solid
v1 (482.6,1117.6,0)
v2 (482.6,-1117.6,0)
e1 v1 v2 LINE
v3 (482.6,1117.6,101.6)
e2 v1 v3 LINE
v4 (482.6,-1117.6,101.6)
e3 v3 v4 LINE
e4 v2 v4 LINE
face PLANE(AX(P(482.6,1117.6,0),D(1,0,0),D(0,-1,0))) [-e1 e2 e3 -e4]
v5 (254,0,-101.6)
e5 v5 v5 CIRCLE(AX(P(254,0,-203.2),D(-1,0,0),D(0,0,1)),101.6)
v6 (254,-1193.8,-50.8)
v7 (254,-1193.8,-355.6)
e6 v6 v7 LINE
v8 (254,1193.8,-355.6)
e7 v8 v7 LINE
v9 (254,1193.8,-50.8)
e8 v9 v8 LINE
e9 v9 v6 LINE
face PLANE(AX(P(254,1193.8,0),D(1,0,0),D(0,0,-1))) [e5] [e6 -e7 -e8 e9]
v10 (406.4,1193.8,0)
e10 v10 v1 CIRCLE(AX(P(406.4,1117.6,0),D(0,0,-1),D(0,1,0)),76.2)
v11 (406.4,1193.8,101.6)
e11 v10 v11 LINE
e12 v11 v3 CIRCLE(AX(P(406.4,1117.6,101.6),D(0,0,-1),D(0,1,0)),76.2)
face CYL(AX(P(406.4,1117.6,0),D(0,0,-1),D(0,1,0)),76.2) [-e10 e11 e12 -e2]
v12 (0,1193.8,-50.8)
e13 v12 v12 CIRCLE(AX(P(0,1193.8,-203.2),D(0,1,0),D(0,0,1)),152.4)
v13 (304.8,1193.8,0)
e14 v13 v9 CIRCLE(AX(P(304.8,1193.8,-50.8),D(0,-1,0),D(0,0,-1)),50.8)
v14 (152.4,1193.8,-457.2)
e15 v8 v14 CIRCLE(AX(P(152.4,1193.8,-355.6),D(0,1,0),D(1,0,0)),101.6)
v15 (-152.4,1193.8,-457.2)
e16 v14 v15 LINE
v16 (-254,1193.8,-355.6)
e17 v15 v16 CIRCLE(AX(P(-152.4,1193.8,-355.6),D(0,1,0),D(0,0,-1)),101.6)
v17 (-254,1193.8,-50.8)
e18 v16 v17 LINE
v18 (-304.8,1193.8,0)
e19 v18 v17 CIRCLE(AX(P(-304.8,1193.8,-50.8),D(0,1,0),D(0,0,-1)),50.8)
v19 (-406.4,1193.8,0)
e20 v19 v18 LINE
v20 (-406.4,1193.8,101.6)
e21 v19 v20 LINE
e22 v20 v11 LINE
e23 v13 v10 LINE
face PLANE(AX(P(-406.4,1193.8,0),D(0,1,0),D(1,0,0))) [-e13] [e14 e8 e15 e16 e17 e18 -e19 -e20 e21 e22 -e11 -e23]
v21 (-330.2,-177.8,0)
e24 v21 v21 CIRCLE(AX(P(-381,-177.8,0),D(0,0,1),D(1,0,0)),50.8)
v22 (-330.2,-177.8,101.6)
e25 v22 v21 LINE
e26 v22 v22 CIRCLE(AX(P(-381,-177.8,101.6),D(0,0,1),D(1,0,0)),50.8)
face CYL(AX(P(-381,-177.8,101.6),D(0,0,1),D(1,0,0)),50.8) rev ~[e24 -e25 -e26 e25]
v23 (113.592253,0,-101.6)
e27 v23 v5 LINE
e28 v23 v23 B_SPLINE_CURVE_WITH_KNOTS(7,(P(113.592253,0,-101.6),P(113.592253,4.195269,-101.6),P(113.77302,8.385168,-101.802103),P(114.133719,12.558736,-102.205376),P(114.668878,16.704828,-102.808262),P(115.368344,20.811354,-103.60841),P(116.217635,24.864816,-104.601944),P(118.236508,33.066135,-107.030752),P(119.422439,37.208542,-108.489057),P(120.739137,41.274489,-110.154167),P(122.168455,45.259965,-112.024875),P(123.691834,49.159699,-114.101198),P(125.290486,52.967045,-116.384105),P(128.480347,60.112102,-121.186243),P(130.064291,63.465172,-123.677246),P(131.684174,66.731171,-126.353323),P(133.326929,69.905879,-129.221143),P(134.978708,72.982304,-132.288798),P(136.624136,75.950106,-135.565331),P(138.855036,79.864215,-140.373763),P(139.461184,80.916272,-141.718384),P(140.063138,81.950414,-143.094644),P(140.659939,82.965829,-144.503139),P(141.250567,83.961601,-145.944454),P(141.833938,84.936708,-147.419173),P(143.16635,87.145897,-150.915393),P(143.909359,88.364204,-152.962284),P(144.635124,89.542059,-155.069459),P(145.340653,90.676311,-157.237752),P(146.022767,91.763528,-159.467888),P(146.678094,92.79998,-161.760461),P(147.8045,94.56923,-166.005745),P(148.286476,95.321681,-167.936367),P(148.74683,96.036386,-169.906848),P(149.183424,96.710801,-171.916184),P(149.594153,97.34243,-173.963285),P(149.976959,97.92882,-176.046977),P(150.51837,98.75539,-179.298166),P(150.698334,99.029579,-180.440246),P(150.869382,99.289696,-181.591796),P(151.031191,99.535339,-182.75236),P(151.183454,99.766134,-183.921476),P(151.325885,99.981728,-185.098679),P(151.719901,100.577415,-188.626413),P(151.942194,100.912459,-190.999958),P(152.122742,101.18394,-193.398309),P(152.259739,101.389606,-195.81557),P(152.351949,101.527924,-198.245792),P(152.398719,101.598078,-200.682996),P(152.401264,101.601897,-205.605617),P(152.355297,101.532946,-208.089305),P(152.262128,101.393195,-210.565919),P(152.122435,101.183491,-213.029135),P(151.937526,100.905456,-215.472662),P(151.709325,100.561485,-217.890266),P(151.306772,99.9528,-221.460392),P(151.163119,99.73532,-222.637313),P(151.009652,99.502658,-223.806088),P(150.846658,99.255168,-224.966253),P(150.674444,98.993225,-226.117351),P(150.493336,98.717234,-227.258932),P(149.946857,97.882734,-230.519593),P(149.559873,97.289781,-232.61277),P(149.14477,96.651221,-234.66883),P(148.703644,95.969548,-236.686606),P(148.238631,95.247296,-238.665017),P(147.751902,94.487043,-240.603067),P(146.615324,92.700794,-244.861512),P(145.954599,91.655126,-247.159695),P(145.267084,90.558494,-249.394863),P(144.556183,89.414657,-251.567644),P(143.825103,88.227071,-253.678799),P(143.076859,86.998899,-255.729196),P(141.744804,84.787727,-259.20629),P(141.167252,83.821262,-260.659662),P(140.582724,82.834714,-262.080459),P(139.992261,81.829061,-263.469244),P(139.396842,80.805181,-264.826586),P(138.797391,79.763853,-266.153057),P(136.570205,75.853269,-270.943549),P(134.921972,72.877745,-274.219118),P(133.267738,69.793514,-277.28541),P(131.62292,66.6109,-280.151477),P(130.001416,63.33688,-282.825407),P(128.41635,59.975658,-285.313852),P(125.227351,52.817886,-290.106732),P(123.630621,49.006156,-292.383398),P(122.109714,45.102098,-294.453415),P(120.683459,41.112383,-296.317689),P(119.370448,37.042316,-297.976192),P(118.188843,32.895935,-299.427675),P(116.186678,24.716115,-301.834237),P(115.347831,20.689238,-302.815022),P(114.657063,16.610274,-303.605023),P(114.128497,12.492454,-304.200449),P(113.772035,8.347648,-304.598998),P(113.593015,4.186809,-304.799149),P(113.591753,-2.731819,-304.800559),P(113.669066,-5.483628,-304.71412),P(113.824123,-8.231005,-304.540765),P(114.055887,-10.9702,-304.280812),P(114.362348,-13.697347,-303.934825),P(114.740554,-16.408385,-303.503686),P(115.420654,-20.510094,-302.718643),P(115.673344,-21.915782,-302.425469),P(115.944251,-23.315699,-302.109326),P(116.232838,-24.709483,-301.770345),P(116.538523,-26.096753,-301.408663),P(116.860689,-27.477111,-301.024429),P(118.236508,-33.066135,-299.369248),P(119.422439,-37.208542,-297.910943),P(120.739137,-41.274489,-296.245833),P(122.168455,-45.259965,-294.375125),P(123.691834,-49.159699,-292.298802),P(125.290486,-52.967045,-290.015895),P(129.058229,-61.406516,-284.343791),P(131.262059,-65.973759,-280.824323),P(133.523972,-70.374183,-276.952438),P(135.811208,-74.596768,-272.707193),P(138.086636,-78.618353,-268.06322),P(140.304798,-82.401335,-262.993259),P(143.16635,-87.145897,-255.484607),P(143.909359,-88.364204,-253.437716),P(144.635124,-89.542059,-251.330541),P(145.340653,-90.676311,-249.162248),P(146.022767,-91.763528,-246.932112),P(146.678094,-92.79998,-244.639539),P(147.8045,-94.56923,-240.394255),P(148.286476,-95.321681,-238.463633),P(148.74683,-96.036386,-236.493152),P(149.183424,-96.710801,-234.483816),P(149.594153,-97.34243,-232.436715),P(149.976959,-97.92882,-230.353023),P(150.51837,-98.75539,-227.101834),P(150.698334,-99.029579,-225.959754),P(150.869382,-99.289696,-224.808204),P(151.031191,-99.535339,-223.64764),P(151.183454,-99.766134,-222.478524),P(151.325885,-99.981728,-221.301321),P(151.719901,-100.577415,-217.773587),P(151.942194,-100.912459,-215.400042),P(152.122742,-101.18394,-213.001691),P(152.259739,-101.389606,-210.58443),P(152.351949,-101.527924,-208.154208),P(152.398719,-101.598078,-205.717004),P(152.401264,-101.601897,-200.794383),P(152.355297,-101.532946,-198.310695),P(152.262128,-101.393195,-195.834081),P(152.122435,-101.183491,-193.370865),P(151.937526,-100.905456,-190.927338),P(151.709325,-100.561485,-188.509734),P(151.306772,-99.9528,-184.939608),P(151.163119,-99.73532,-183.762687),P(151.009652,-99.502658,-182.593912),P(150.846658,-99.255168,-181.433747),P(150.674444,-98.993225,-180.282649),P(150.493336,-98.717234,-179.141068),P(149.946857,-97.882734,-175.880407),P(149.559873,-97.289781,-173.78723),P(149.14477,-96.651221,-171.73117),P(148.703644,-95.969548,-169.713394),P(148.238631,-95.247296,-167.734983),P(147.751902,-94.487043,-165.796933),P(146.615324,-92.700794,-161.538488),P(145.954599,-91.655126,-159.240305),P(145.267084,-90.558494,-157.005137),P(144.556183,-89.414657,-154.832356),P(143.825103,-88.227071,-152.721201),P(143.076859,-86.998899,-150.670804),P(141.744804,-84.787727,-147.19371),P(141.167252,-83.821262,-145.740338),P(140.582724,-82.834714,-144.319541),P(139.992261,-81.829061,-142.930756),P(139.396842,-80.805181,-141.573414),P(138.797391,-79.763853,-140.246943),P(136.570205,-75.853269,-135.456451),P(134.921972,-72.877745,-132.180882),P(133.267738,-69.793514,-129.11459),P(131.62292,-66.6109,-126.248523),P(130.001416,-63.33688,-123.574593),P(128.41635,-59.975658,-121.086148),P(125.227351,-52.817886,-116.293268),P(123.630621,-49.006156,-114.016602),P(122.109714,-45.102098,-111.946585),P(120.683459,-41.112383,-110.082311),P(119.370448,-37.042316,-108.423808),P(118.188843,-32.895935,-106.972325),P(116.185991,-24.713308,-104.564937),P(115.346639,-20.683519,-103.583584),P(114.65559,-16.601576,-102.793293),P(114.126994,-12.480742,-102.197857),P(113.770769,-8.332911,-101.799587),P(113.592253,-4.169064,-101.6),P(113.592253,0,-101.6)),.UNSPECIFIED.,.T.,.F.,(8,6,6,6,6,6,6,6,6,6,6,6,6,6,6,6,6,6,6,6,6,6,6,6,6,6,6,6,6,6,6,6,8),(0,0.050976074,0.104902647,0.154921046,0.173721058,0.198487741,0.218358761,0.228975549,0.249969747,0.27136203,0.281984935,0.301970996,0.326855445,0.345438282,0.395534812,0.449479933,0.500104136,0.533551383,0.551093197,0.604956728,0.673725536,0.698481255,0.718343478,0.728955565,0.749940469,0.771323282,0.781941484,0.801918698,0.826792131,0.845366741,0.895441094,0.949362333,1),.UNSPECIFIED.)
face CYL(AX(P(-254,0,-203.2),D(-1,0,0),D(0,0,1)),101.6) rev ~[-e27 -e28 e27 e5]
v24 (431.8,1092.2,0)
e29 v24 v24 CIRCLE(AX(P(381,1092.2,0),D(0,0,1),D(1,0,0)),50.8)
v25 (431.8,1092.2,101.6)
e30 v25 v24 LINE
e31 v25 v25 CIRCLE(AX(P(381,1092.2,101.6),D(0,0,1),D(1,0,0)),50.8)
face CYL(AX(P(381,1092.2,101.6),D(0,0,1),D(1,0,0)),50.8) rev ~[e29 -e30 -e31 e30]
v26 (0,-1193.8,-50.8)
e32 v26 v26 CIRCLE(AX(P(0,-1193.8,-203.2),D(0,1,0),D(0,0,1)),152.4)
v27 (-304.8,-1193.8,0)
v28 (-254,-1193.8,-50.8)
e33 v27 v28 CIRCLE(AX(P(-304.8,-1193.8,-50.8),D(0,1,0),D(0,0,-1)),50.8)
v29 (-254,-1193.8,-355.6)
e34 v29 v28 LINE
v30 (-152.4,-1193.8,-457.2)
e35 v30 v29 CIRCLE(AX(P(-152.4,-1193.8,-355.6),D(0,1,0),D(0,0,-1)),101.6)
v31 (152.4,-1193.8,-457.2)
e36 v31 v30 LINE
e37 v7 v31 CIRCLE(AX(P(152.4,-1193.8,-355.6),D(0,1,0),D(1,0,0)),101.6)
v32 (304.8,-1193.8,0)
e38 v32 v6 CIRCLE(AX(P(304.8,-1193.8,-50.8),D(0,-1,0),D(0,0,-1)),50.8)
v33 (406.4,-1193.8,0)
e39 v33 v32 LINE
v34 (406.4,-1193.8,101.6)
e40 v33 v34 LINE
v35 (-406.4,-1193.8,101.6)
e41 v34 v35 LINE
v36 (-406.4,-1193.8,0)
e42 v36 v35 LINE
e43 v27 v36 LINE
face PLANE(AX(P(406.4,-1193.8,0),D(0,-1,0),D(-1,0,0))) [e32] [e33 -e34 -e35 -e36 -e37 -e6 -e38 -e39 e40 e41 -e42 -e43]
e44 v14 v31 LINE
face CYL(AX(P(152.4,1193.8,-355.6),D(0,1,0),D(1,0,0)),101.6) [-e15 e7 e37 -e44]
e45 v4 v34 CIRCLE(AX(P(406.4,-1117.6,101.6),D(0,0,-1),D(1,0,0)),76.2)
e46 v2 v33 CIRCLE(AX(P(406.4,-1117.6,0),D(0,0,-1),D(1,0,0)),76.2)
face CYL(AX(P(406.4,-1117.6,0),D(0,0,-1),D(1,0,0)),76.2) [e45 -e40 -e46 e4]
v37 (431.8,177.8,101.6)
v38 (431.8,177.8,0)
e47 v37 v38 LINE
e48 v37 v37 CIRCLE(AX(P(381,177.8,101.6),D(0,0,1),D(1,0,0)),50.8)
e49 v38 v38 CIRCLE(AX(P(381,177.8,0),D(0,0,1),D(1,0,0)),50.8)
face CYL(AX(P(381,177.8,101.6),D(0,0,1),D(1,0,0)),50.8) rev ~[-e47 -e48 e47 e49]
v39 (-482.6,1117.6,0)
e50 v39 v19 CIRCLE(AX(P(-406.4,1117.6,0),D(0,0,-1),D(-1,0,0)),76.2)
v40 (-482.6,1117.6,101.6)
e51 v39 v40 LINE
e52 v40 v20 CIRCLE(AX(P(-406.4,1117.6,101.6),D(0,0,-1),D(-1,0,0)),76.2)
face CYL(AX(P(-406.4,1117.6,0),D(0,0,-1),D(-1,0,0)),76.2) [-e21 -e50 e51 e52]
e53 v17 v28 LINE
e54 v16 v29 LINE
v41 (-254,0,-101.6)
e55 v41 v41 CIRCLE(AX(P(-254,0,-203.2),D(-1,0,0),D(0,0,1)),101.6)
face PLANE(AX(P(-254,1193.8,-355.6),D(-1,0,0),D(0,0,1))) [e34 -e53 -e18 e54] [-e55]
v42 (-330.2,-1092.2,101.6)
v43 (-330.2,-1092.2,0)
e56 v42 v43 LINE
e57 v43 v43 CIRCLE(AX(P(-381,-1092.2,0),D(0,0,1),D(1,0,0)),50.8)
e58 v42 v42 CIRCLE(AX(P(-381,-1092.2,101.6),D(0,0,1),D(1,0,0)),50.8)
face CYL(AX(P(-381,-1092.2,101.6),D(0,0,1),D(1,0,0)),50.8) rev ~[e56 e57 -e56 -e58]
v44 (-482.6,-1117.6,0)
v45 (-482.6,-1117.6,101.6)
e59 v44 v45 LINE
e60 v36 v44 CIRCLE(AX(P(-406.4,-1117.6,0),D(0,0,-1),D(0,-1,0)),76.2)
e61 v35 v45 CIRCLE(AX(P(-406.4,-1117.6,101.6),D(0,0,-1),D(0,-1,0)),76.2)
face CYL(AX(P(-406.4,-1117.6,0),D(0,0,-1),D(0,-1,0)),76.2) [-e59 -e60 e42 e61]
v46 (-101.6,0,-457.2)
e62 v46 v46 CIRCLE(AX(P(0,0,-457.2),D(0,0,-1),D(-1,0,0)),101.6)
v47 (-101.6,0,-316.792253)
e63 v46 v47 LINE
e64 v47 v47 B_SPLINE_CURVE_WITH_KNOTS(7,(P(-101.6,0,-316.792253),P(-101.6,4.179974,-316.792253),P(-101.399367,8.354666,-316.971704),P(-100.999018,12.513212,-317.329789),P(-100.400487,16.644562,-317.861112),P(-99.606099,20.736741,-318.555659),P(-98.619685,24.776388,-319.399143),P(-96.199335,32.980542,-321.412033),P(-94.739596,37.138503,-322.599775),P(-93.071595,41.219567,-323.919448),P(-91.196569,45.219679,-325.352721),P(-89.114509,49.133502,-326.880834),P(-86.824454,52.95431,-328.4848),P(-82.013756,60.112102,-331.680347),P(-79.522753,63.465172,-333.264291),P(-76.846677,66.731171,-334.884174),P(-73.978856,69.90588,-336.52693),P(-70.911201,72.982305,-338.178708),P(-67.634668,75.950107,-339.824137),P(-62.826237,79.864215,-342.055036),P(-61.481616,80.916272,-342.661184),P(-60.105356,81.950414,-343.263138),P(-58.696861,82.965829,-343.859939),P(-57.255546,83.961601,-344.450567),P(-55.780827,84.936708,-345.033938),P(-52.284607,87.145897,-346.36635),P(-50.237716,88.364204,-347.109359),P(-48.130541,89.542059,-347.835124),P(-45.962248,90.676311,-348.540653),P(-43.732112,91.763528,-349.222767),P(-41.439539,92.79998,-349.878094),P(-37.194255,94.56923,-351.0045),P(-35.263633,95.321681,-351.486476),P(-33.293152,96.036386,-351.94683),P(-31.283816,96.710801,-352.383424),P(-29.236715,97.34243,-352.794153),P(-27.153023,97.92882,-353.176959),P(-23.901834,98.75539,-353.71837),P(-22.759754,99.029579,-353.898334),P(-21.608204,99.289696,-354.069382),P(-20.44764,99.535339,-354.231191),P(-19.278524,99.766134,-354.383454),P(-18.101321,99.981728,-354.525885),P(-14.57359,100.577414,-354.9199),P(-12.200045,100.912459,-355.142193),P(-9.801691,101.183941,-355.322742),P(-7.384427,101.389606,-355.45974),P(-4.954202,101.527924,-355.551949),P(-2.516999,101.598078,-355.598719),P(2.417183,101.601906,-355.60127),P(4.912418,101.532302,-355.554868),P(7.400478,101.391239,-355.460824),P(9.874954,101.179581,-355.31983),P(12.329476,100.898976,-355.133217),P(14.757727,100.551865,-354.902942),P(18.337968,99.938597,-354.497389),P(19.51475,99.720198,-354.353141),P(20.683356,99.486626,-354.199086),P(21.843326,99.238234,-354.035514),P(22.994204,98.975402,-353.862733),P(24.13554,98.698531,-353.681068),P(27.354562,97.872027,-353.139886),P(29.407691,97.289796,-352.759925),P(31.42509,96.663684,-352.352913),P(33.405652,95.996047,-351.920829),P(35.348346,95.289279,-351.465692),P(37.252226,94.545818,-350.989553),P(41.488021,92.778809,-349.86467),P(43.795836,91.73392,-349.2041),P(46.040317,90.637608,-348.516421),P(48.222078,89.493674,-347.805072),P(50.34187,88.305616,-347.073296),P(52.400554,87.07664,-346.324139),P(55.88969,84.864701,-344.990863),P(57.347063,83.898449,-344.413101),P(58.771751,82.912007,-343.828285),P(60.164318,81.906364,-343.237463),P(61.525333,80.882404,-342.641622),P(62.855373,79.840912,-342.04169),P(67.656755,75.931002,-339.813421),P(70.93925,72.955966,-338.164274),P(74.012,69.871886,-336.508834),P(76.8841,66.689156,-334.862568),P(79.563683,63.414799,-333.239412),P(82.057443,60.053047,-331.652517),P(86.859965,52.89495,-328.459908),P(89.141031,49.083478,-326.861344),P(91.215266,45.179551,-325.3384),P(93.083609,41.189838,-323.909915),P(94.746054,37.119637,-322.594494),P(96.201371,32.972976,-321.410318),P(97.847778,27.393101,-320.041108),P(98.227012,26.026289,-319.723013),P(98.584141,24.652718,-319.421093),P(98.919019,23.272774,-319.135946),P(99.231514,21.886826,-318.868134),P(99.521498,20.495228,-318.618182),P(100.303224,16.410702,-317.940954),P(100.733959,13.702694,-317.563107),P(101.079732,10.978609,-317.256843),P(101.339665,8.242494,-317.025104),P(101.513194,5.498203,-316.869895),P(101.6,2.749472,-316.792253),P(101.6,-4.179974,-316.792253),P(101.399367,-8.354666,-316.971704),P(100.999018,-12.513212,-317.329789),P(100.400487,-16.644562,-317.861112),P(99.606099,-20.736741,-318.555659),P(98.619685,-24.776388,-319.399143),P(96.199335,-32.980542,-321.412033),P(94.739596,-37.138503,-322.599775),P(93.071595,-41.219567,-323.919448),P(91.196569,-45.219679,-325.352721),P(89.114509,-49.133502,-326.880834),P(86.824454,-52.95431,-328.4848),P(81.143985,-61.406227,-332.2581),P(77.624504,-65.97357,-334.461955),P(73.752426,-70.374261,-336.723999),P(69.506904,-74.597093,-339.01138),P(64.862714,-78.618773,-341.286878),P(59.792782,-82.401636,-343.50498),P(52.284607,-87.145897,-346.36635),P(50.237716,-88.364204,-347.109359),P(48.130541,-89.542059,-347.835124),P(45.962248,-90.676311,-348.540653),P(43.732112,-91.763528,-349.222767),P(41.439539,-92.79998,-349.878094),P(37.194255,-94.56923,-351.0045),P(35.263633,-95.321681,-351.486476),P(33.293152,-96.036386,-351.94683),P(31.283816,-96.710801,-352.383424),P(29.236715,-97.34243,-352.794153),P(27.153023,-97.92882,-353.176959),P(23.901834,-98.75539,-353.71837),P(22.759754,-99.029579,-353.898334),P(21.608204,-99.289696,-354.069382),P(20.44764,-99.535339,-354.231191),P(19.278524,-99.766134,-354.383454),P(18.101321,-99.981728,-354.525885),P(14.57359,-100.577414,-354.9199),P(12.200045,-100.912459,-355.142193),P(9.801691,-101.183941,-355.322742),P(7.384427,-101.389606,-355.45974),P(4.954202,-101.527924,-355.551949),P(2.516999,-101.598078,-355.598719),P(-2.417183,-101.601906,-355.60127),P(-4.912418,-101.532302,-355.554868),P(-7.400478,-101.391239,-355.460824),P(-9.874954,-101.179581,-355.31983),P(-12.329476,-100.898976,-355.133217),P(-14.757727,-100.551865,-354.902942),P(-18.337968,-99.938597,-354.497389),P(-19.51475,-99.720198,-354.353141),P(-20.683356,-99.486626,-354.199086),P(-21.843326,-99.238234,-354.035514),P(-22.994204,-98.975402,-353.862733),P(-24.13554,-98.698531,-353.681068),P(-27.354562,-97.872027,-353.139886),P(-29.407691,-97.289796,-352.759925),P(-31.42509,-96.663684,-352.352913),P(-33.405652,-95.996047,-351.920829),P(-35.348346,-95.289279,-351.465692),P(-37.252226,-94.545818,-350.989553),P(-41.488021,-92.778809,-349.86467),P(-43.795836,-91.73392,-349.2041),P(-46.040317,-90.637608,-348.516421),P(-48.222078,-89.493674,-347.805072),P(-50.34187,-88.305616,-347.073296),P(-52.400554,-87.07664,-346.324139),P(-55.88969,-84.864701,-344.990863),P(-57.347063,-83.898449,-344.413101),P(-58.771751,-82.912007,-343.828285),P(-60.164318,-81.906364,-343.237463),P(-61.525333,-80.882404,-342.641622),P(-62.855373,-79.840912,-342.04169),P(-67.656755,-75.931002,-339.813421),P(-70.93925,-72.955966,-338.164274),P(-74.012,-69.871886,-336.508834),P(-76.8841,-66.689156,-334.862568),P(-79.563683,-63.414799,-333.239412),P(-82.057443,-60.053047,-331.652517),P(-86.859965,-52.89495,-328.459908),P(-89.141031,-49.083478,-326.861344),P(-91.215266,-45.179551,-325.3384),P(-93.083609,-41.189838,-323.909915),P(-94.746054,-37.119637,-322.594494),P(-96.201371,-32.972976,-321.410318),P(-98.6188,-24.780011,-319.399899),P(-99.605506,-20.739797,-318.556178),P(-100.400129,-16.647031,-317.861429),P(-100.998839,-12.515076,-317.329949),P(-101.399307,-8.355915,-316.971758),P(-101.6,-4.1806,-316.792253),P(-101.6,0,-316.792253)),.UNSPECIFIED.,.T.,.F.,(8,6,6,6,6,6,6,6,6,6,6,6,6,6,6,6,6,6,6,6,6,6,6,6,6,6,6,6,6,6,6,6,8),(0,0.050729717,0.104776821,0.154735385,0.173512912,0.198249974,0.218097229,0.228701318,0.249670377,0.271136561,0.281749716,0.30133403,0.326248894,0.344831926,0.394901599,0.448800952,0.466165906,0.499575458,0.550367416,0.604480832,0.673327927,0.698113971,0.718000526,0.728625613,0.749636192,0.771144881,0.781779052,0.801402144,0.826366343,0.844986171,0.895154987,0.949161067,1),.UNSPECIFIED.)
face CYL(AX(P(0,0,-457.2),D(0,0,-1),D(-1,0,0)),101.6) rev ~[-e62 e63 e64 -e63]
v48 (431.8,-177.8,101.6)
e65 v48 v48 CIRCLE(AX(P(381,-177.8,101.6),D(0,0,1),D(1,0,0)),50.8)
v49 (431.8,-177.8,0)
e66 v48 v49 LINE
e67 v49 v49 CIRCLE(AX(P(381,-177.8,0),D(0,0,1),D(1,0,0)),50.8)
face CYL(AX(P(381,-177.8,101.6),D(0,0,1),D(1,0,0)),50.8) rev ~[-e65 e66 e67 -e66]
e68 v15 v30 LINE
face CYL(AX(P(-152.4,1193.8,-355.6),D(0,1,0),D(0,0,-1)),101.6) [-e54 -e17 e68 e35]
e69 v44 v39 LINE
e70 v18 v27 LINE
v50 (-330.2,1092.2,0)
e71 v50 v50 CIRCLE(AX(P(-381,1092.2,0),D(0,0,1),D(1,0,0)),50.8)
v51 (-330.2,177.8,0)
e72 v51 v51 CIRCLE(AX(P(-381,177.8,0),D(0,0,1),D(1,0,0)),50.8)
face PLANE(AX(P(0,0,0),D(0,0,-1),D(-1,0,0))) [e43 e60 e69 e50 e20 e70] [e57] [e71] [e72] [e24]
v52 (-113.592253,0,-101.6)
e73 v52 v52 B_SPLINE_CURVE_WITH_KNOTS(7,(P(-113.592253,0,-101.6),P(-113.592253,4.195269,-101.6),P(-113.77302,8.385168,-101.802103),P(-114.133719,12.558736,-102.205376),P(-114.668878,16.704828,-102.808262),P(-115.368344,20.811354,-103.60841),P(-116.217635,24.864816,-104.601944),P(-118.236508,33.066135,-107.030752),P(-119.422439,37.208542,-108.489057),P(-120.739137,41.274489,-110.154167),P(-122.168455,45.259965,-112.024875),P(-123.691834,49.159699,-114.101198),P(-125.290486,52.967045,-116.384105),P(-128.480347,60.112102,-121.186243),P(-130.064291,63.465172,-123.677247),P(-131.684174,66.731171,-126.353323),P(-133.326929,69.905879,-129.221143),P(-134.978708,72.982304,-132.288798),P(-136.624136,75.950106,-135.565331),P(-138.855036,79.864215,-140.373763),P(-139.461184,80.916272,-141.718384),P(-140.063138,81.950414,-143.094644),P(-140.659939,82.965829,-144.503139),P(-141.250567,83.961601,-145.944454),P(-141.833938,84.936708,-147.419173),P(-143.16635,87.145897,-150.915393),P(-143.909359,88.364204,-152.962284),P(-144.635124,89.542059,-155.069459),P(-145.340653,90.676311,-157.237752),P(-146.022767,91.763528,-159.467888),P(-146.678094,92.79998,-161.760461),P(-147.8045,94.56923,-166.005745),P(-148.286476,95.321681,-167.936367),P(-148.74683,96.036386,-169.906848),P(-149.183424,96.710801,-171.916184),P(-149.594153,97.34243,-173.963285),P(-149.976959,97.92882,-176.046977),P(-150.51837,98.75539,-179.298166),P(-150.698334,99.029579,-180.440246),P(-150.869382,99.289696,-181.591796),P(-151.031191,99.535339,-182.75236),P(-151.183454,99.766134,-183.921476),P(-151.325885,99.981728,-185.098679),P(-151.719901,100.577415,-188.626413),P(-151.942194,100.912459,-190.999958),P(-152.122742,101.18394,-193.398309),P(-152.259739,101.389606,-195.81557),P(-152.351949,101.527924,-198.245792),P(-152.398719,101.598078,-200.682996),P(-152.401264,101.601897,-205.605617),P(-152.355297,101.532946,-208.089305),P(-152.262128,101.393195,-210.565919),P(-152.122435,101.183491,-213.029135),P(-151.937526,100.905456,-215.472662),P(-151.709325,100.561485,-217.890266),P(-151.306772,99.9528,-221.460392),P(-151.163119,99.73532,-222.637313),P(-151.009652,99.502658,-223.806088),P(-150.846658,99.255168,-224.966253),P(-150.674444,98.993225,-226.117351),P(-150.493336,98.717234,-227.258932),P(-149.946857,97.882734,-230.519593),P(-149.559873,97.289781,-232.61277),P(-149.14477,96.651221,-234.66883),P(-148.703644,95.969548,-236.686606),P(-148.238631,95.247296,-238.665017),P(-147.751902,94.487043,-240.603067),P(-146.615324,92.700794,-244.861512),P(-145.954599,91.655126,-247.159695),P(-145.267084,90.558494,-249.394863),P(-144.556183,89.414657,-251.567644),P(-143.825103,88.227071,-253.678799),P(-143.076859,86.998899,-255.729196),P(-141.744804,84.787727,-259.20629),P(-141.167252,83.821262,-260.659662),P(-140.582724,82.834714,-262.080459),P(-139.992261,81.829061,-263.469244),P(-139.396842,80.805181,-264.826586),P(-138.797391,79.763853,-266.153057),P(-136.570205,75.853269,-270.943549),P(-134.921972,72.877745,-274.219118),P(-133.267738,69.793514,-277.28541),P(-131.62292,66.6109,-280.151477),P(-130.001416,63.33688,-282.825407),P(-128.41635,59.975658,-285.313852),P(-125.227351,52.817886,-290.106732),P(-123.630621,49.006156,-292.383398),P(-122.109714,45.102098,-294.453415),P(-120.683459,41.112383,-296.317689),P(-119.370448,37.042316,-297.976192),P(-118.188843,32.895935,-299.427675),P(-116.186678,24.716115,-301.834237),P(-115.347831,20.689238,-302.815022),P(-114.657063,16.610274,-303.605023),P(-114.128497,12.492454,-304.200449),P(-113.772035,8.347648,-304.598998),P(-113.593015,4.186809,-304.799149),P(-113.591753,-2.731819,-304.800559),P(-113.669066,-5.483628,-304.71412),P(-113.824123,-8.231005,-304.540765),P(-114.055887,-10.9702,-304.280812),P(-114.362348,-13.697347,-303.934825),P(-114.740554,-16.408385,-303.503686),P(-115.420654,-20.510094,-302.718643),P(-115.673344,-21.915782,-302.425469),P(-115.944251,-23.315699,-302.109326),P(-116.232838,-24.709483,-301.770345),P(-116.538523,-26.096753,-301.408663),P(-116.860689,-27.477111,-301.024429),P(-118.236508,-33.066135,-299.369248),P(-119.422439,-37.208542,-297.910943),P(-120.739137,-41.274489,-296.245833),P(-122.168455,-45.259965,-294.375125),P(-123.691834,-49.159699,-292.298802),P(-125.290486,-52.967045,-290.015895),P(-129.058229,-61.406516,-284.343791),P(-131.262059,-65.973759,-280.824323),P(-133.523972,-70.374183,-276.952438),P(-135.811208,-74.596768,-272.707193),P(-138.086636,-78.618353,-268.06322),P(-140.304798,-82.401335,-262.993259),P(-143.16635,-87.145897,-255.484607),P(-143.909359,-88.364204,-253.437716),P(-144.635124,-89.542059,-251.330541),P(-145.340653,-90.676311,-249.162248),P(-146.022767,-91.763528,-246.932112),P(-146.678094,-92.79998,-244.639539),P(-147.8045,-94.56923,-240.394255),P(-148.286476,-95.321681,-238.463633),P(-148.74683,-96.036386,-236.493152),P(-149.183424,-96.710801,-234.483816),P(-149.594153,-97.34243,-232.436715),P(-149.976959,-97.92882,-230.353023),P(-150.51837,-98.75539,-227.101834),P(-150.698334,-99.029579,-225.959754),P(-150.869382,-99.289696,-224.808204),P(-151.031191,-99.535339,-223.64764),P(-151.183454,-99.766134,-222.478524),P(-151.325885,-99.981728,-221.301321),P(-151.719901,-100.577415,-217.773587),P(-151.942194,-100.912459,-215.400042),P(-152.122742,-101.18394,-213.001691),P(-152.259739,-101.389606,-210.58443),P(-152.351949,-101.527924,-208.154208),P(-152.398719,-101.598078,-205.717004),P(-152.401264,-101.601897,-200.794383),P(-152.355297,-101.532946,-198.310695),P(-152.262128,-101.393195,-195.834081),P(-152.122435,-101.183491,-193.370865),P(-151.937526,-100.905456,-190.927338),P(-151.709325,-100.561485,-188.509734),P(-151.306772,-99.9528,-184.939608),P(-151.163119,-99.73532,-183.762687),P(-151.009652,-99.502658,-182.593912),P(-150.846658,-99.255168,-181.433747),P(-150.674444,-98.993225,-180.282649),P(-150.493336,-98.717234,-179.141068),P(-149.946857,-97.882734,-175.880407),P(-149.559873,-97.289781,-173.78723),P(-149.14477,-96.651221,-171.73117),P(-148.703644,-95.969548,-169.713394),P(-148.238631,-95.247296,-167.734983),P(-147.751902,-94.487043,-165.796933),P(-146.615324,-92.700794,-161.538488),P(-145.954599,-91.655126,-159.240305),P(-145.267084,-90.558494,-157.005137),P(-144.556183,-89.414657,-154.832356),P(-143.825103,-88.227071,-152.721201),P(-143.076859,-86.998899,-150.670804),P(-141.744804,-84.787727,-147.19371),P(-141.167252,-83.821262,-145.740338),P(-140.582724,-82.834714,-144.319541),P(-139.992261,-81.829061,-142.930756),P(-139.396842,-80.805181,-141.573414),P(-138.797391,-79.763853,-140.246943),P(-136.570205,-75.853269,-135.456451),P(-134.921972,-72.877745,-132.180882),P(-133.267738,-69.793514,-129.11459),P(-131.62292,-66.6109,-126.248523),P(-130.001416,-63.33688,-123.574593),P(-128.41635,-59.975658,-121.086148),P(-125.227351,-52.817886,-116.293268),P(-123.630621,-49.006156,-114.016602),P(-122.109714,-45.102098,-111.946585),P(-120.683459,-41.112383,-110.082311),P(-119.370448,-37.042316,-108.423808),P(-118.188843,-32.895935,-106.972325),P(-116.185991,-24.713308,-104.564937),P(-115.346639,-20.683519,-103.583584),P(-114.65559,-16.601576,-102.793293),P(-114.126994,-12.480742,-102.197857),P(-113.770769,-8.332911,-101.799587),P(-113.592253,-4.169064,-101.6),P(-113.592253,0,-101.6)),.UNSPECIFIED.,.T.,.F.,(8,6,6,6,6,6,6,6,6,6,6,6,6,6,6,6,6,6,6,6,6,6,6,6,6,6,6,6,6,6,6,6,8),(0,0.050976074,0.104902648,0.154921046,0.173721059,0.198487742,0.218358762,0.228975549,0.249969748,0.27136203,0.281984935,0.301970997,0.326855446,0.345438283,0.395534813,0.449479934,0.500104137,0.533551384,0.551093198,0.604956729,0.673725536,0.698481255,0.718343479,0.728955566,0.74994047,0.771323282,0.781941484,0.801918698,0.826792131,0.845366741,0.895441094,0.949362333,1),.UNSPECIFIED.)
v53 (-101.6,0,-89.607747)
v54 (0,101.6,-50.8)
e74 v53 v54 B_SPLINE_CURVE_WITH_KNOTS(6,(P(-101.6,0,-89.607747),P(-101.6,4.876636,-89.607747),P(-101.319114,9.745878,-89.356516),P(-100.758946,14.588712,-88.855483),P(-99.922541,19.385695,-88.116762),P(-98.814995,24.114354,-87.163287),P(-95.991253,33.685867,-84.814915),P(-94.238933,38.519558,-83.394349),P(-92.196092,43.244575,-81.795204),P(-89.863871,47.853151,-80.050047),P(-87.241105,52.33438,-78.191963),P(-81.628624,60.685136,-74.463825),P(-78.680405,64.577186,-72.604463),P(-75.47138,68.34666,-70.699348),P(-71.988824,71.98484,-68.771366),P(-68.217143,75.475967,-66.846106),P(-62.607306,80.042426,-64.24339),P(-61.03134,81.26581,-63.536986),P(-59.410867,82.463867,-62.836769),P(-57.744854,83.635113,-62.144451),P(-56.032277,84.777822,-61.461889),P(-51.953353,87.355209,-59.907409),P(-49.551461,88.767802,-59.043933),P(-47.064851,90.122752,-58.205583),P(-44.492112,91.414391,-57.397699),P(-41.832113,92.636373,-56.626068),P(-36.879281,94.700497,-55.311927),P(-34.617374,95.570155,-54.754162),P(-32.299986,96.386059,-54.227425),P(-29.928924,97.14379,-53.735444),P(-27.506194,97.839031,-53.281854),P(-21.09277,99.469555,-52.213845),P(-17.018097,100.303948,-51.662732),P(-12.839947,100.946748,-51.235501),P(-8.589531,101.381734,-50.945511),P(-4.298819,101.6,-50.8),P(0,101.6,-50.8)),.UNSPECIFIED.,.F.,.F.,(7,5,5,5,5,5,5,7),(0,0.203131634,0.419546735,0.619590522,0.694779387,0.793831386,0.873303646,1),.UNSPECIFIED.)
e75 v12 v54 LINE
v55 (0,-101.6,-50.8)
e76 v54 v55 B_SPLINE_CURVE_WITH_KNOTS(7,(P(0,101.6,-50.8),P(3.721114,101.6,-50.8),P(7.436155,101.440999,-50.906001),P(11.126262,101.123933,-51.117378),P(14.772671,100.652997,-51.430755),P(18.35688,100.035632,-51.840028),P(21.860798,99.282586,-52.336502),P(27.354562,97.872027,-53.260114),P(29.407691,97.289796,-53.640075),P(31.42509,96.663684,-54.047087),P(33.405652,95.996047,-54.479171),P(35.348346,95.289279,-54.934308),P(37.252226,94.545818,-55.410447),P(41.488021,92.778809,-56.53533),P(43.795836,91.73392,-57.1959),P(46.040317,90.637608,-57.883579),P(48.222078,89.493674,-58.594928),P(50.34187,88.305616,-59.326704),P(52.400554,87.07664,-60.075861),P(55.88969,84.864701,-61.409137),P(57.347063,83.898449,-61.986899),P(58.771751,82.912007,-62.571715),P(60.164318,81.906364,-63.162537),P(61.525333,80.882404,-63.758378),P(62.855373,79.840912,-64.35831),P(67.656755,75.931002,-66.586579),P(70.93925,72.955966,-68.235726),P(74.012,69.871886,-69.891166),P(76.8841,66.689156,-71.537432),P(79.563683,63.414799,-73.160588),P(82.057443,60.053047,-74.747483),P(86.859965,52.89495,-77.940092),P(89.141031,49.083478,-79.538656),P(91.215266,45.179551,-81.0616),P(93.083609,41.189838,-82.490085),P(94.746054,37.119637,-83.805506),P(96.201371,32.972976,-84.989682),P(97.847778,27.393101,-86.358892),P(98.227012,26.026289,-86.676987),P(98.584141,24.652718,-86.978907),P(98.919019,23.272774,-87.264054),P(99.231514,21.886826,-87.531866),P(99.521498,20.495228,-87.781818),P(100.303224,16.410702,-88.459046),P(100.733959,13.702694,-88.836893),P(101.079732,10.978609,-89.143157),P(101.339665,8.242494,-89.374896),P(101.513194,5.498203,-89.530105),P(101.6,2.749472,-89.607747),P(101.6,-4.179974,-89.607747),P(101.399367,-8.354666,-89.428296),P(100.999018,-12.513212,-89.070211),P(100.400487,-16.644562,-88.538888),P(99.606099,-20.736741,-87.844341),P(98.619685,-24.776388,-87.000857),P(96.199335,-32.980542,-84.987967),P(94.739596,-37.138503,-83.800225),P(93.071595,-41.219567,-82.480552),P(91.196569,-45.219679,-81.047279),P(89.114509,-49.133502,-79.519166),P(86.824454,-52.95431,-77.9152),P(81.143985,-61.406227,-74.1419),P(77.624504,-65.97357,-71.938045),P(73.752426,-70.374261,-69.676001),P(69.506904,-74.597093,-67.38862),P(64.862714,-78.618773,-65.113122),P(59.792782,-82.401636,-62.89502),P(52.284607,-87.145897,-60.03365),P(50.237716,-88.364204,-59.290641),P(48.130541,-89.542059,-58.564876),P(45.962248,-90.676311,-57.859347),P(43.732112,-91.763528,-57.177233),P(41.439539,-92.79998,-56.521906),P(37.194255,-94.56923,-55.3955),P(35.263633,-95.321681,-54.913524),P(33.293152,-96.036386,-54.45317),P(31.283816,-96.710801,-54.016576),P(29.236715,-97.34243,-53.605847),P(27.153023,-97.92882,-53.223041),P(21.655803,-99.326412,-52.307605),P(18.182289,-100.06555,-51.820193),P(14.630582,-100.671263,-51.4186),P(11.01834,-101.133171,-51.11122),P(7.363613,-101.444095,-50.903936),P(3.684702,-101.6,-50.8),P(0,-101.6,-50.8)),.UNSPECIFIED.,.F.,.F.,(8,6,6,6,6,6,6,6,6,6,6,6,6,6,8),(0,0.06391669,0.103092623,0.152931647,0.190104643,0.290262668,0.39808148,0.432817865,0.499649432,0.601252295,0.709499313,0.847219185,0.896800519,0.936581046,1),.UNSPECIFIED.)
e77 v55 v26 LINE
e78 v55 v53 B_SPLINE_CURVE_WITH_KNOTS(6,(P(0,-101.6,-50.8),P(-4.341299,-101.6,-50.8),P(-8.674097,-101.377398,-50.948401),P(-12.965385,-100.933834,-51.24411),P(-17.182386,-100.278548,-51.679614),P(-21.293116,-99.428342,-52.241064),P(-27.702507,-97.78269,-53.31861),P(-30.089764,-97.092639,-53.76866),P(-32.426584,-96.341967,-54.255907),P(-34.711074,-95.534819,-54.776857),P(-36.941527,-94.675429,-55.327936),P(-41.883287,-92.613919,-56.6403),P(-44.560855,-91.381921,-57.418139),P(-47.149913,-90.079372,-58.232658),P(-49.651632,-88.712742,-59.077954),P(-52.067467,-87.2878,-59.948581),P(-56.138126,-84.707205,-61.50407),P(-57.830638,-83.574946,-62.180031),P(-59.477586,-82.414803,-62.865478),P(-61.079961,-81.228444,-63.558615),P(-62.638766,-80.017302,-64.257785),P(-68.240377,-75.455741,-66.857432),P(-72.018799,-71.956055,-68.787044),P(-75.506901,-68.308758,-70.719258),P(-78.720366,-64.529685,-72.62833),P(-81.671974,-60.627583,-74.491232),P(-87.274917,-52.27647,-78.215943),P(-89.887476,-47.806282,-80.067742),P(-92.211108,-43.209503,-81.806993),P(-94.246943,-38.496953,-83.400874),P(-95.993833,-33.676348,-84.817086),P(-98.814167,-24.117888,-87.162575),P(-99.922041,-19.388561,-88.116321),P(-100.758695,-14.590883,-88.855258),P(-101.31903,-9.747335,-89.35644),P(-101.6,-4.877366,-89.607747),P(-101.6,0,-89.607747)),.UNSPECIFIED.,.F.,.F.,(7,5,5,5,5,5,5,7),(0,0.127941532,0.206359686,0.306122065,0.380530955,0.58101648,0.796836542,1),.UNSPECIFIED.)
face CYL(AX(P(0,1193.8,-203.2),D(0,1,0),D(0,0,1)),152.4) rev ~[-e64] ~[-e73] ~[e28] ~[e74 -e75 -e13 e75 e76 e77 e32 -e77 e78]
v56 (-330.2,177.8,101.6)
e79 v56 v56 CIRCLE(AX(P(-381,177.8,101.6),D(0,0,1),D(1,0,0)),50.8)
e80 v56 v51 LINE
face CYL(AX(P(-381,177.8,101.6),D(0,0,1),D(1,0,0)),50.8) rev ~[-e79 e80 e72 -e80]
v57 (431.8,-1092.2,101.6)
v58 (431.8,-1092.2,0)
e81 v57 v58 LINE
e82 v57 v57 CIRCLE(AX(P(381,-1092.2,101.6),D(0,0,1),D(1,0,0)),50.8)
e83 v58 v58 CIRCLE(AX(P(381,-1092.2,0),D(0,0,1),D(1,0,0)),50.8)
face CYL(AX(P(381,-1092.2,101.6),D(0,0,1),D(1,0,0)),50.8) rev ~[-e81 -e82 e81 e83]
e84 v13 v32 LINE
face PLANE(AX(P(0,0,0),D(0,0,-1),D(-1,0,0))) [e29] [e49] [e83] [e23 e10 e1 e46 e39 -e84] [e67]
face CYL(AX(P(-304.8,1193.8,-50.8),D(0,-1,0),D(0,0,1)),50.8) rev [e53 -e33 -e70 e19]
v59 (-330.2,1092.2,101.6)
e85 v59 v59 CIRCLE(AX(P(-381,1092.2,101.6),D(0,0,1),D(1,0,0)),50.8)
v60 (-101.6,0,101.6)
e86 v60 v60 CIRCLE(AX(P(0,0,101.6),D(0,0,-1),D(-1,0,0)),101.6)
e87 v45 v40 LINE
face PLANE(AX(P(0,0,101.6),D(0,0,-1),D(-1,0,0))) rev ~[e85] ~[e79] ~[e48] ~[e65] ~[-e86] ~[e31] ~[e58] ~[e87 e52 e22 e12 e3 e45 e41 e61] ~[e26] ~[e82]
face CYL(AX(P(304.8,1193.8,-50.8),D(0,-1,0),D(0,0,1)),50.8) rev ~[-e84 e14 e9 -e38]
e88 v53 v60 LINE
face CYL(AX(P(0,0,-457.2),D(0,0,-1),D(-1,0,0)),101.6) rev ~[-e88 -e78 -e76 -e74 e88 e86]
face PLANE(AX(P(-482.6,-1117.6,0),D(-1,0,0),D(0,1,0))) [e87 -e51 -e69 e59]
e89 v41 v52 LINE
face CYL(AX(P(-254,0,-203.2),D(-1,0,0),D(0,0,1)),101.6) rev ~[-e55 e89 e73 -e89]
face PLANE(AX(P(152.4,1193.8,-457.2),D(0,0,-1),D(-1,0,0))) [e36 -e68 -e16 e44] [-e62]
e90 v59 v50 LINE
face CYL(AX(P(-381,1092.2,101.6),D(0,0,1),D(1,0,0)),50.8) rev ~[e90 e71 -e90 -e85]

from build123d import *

# Parameters (mm, degrees)
BOSS_EXTRUDE2_DEPTH = 101.6
SKETCH2_R           = 50.8
CUT_EXTRUDE1_DEPTH  = 1292.659304925
SKETCH3_R           = 152.4
BOSS_EXTRUDE3_DEPTH = 2387.6
FILLET1_R           = 50.8
SKETCH4_R           = 101.6
CUT_EXTRUDE2_DEPTH  = 1404.680390972
SKETCH5_R           = 101.6
CUT_EXTRUDE3_DEPTH  = 1476.388030428


with BuildPart() as part:
    # Sketch1 → Boss-Extrude2 (new body)
    with BuildSketch(Plane.XY):
        with BuildLine():
            Line((-406.4, 1193.8), (406.4, 1193.8))
            ThreePointArc((406.4, 1193.8), (460.281536726, 1171.481536726), (482.6, 1117.6))
            Line((482.6, 1117.6), (482.6, -1117.6))
            ThreePointArc((482.6, -1117.6), (460.281536726, -1171.481536726), (406.4, -1193.8))
            Line((406.4, -1193.8), (-406.4, -1193.8))
            ThreePointArc((-406.4, -1193.8), (-460.281536726, -1171.481536726), (-482.6, -1117.6))
            Line((-482.6, -1117.6), (-482.6, 1117.6))
            ThreePointArc((-482.6, 1117.6), (-460.281536726, 1171.481536726), (-406.4, 1193.8))
        make_face()
    extrude(amount=BOSS_EXTRUDE2_DEPTH)

    # Sketch2 → Cut-Extrude1 (cut, through all)
    with BuildSketch(Plane.XY.offset(101.6)):
        with Locations((-381, 1092.2)):
            Circle(SKETCH2_R)
        with Locations((-381, 177.8)):
            Circle(SKETCH2_R)
        with Locations((-381, -177.8)):
            Circle(SKETCH2_R)
        with Locations((-381, -1092.2)):
            Circle(SKETCH2_R)
        with Locations((381, 1092.2)):
            Circle(SKETCH2_R)
        with Locations((381, 177.8)):
            Circle(SKETCH2_R)
        with Locations((381, -177.8)):
            Circle(SKETCH2_R)
        with Locations((381, -1092.2)):
            Circle(SKETCH2_R)
    extrude(amount=-CUT_EXTRUDE1_DEPTH, mode=Mode.SUBTRACT)

    # Sketch3 → Boss-Extrude3 (add)
    with BuildSketch(Plane(origin=(0, 1193.8, 0), x_dir=(1, 0, 0), z_dir=(0, 1, 0))):
        with BuildLine():
            Line((-254, 0), (254, 0))
            Line((254, 0), (254, 355.6))
            ThreePointArc((254, 355.6), (224.242048969, 427.442048969), (152.4, 457.2))
            Line((152.4, 457.2), (-152.4, 457.2))
            ThreePointArc((-152.4, 457.2), (-224.242048969, 427.442048969), (-254, 355.6))
            Line((-254, 355.6), (-254, 0))
        make_face()
        with Locations(Location((0, 203.2, 0), (0, 0, 270))):
            Circle(SKETCH3_R, mode=Mode.SUBTRACT)
    extrude(amount=-BOSS_EXTRUDE3_DEPTH)

    # Fillet1
    fillet1_edges = [part.edges().sort_by_distance(p)[0] for p in [
        (-254, 0, 0),
        (254, 0, 0),
    ]]
    fillet(fillet1_edges, radius=FILLET1_R)

    # Sketch4 → Cut-Extrude2 (cut, through all)
    with BuildSketch(Plane(origin=(0, 0, -457.2), x_dir=(-1, 0, 0), z_dir=(0, 0, -1))):
        Circle(SKETCH4_R)
    extrude(amount=-CUT_EXTRUDE2_DEPTH, mode=Mode.SUBTRACT)

    # Sketch5 → Cut-Extrude3 (cut, through all)
    with BuildSketch(Plane.ZY.offset(254)):
        with Locations((-203.2, 0)):
            Circle(SKETCH5_R)
    extrude(amount=-CUT_EXTRUDE3_DEPTH, mode=Mode.SUBTRACT)


solid = part.part
